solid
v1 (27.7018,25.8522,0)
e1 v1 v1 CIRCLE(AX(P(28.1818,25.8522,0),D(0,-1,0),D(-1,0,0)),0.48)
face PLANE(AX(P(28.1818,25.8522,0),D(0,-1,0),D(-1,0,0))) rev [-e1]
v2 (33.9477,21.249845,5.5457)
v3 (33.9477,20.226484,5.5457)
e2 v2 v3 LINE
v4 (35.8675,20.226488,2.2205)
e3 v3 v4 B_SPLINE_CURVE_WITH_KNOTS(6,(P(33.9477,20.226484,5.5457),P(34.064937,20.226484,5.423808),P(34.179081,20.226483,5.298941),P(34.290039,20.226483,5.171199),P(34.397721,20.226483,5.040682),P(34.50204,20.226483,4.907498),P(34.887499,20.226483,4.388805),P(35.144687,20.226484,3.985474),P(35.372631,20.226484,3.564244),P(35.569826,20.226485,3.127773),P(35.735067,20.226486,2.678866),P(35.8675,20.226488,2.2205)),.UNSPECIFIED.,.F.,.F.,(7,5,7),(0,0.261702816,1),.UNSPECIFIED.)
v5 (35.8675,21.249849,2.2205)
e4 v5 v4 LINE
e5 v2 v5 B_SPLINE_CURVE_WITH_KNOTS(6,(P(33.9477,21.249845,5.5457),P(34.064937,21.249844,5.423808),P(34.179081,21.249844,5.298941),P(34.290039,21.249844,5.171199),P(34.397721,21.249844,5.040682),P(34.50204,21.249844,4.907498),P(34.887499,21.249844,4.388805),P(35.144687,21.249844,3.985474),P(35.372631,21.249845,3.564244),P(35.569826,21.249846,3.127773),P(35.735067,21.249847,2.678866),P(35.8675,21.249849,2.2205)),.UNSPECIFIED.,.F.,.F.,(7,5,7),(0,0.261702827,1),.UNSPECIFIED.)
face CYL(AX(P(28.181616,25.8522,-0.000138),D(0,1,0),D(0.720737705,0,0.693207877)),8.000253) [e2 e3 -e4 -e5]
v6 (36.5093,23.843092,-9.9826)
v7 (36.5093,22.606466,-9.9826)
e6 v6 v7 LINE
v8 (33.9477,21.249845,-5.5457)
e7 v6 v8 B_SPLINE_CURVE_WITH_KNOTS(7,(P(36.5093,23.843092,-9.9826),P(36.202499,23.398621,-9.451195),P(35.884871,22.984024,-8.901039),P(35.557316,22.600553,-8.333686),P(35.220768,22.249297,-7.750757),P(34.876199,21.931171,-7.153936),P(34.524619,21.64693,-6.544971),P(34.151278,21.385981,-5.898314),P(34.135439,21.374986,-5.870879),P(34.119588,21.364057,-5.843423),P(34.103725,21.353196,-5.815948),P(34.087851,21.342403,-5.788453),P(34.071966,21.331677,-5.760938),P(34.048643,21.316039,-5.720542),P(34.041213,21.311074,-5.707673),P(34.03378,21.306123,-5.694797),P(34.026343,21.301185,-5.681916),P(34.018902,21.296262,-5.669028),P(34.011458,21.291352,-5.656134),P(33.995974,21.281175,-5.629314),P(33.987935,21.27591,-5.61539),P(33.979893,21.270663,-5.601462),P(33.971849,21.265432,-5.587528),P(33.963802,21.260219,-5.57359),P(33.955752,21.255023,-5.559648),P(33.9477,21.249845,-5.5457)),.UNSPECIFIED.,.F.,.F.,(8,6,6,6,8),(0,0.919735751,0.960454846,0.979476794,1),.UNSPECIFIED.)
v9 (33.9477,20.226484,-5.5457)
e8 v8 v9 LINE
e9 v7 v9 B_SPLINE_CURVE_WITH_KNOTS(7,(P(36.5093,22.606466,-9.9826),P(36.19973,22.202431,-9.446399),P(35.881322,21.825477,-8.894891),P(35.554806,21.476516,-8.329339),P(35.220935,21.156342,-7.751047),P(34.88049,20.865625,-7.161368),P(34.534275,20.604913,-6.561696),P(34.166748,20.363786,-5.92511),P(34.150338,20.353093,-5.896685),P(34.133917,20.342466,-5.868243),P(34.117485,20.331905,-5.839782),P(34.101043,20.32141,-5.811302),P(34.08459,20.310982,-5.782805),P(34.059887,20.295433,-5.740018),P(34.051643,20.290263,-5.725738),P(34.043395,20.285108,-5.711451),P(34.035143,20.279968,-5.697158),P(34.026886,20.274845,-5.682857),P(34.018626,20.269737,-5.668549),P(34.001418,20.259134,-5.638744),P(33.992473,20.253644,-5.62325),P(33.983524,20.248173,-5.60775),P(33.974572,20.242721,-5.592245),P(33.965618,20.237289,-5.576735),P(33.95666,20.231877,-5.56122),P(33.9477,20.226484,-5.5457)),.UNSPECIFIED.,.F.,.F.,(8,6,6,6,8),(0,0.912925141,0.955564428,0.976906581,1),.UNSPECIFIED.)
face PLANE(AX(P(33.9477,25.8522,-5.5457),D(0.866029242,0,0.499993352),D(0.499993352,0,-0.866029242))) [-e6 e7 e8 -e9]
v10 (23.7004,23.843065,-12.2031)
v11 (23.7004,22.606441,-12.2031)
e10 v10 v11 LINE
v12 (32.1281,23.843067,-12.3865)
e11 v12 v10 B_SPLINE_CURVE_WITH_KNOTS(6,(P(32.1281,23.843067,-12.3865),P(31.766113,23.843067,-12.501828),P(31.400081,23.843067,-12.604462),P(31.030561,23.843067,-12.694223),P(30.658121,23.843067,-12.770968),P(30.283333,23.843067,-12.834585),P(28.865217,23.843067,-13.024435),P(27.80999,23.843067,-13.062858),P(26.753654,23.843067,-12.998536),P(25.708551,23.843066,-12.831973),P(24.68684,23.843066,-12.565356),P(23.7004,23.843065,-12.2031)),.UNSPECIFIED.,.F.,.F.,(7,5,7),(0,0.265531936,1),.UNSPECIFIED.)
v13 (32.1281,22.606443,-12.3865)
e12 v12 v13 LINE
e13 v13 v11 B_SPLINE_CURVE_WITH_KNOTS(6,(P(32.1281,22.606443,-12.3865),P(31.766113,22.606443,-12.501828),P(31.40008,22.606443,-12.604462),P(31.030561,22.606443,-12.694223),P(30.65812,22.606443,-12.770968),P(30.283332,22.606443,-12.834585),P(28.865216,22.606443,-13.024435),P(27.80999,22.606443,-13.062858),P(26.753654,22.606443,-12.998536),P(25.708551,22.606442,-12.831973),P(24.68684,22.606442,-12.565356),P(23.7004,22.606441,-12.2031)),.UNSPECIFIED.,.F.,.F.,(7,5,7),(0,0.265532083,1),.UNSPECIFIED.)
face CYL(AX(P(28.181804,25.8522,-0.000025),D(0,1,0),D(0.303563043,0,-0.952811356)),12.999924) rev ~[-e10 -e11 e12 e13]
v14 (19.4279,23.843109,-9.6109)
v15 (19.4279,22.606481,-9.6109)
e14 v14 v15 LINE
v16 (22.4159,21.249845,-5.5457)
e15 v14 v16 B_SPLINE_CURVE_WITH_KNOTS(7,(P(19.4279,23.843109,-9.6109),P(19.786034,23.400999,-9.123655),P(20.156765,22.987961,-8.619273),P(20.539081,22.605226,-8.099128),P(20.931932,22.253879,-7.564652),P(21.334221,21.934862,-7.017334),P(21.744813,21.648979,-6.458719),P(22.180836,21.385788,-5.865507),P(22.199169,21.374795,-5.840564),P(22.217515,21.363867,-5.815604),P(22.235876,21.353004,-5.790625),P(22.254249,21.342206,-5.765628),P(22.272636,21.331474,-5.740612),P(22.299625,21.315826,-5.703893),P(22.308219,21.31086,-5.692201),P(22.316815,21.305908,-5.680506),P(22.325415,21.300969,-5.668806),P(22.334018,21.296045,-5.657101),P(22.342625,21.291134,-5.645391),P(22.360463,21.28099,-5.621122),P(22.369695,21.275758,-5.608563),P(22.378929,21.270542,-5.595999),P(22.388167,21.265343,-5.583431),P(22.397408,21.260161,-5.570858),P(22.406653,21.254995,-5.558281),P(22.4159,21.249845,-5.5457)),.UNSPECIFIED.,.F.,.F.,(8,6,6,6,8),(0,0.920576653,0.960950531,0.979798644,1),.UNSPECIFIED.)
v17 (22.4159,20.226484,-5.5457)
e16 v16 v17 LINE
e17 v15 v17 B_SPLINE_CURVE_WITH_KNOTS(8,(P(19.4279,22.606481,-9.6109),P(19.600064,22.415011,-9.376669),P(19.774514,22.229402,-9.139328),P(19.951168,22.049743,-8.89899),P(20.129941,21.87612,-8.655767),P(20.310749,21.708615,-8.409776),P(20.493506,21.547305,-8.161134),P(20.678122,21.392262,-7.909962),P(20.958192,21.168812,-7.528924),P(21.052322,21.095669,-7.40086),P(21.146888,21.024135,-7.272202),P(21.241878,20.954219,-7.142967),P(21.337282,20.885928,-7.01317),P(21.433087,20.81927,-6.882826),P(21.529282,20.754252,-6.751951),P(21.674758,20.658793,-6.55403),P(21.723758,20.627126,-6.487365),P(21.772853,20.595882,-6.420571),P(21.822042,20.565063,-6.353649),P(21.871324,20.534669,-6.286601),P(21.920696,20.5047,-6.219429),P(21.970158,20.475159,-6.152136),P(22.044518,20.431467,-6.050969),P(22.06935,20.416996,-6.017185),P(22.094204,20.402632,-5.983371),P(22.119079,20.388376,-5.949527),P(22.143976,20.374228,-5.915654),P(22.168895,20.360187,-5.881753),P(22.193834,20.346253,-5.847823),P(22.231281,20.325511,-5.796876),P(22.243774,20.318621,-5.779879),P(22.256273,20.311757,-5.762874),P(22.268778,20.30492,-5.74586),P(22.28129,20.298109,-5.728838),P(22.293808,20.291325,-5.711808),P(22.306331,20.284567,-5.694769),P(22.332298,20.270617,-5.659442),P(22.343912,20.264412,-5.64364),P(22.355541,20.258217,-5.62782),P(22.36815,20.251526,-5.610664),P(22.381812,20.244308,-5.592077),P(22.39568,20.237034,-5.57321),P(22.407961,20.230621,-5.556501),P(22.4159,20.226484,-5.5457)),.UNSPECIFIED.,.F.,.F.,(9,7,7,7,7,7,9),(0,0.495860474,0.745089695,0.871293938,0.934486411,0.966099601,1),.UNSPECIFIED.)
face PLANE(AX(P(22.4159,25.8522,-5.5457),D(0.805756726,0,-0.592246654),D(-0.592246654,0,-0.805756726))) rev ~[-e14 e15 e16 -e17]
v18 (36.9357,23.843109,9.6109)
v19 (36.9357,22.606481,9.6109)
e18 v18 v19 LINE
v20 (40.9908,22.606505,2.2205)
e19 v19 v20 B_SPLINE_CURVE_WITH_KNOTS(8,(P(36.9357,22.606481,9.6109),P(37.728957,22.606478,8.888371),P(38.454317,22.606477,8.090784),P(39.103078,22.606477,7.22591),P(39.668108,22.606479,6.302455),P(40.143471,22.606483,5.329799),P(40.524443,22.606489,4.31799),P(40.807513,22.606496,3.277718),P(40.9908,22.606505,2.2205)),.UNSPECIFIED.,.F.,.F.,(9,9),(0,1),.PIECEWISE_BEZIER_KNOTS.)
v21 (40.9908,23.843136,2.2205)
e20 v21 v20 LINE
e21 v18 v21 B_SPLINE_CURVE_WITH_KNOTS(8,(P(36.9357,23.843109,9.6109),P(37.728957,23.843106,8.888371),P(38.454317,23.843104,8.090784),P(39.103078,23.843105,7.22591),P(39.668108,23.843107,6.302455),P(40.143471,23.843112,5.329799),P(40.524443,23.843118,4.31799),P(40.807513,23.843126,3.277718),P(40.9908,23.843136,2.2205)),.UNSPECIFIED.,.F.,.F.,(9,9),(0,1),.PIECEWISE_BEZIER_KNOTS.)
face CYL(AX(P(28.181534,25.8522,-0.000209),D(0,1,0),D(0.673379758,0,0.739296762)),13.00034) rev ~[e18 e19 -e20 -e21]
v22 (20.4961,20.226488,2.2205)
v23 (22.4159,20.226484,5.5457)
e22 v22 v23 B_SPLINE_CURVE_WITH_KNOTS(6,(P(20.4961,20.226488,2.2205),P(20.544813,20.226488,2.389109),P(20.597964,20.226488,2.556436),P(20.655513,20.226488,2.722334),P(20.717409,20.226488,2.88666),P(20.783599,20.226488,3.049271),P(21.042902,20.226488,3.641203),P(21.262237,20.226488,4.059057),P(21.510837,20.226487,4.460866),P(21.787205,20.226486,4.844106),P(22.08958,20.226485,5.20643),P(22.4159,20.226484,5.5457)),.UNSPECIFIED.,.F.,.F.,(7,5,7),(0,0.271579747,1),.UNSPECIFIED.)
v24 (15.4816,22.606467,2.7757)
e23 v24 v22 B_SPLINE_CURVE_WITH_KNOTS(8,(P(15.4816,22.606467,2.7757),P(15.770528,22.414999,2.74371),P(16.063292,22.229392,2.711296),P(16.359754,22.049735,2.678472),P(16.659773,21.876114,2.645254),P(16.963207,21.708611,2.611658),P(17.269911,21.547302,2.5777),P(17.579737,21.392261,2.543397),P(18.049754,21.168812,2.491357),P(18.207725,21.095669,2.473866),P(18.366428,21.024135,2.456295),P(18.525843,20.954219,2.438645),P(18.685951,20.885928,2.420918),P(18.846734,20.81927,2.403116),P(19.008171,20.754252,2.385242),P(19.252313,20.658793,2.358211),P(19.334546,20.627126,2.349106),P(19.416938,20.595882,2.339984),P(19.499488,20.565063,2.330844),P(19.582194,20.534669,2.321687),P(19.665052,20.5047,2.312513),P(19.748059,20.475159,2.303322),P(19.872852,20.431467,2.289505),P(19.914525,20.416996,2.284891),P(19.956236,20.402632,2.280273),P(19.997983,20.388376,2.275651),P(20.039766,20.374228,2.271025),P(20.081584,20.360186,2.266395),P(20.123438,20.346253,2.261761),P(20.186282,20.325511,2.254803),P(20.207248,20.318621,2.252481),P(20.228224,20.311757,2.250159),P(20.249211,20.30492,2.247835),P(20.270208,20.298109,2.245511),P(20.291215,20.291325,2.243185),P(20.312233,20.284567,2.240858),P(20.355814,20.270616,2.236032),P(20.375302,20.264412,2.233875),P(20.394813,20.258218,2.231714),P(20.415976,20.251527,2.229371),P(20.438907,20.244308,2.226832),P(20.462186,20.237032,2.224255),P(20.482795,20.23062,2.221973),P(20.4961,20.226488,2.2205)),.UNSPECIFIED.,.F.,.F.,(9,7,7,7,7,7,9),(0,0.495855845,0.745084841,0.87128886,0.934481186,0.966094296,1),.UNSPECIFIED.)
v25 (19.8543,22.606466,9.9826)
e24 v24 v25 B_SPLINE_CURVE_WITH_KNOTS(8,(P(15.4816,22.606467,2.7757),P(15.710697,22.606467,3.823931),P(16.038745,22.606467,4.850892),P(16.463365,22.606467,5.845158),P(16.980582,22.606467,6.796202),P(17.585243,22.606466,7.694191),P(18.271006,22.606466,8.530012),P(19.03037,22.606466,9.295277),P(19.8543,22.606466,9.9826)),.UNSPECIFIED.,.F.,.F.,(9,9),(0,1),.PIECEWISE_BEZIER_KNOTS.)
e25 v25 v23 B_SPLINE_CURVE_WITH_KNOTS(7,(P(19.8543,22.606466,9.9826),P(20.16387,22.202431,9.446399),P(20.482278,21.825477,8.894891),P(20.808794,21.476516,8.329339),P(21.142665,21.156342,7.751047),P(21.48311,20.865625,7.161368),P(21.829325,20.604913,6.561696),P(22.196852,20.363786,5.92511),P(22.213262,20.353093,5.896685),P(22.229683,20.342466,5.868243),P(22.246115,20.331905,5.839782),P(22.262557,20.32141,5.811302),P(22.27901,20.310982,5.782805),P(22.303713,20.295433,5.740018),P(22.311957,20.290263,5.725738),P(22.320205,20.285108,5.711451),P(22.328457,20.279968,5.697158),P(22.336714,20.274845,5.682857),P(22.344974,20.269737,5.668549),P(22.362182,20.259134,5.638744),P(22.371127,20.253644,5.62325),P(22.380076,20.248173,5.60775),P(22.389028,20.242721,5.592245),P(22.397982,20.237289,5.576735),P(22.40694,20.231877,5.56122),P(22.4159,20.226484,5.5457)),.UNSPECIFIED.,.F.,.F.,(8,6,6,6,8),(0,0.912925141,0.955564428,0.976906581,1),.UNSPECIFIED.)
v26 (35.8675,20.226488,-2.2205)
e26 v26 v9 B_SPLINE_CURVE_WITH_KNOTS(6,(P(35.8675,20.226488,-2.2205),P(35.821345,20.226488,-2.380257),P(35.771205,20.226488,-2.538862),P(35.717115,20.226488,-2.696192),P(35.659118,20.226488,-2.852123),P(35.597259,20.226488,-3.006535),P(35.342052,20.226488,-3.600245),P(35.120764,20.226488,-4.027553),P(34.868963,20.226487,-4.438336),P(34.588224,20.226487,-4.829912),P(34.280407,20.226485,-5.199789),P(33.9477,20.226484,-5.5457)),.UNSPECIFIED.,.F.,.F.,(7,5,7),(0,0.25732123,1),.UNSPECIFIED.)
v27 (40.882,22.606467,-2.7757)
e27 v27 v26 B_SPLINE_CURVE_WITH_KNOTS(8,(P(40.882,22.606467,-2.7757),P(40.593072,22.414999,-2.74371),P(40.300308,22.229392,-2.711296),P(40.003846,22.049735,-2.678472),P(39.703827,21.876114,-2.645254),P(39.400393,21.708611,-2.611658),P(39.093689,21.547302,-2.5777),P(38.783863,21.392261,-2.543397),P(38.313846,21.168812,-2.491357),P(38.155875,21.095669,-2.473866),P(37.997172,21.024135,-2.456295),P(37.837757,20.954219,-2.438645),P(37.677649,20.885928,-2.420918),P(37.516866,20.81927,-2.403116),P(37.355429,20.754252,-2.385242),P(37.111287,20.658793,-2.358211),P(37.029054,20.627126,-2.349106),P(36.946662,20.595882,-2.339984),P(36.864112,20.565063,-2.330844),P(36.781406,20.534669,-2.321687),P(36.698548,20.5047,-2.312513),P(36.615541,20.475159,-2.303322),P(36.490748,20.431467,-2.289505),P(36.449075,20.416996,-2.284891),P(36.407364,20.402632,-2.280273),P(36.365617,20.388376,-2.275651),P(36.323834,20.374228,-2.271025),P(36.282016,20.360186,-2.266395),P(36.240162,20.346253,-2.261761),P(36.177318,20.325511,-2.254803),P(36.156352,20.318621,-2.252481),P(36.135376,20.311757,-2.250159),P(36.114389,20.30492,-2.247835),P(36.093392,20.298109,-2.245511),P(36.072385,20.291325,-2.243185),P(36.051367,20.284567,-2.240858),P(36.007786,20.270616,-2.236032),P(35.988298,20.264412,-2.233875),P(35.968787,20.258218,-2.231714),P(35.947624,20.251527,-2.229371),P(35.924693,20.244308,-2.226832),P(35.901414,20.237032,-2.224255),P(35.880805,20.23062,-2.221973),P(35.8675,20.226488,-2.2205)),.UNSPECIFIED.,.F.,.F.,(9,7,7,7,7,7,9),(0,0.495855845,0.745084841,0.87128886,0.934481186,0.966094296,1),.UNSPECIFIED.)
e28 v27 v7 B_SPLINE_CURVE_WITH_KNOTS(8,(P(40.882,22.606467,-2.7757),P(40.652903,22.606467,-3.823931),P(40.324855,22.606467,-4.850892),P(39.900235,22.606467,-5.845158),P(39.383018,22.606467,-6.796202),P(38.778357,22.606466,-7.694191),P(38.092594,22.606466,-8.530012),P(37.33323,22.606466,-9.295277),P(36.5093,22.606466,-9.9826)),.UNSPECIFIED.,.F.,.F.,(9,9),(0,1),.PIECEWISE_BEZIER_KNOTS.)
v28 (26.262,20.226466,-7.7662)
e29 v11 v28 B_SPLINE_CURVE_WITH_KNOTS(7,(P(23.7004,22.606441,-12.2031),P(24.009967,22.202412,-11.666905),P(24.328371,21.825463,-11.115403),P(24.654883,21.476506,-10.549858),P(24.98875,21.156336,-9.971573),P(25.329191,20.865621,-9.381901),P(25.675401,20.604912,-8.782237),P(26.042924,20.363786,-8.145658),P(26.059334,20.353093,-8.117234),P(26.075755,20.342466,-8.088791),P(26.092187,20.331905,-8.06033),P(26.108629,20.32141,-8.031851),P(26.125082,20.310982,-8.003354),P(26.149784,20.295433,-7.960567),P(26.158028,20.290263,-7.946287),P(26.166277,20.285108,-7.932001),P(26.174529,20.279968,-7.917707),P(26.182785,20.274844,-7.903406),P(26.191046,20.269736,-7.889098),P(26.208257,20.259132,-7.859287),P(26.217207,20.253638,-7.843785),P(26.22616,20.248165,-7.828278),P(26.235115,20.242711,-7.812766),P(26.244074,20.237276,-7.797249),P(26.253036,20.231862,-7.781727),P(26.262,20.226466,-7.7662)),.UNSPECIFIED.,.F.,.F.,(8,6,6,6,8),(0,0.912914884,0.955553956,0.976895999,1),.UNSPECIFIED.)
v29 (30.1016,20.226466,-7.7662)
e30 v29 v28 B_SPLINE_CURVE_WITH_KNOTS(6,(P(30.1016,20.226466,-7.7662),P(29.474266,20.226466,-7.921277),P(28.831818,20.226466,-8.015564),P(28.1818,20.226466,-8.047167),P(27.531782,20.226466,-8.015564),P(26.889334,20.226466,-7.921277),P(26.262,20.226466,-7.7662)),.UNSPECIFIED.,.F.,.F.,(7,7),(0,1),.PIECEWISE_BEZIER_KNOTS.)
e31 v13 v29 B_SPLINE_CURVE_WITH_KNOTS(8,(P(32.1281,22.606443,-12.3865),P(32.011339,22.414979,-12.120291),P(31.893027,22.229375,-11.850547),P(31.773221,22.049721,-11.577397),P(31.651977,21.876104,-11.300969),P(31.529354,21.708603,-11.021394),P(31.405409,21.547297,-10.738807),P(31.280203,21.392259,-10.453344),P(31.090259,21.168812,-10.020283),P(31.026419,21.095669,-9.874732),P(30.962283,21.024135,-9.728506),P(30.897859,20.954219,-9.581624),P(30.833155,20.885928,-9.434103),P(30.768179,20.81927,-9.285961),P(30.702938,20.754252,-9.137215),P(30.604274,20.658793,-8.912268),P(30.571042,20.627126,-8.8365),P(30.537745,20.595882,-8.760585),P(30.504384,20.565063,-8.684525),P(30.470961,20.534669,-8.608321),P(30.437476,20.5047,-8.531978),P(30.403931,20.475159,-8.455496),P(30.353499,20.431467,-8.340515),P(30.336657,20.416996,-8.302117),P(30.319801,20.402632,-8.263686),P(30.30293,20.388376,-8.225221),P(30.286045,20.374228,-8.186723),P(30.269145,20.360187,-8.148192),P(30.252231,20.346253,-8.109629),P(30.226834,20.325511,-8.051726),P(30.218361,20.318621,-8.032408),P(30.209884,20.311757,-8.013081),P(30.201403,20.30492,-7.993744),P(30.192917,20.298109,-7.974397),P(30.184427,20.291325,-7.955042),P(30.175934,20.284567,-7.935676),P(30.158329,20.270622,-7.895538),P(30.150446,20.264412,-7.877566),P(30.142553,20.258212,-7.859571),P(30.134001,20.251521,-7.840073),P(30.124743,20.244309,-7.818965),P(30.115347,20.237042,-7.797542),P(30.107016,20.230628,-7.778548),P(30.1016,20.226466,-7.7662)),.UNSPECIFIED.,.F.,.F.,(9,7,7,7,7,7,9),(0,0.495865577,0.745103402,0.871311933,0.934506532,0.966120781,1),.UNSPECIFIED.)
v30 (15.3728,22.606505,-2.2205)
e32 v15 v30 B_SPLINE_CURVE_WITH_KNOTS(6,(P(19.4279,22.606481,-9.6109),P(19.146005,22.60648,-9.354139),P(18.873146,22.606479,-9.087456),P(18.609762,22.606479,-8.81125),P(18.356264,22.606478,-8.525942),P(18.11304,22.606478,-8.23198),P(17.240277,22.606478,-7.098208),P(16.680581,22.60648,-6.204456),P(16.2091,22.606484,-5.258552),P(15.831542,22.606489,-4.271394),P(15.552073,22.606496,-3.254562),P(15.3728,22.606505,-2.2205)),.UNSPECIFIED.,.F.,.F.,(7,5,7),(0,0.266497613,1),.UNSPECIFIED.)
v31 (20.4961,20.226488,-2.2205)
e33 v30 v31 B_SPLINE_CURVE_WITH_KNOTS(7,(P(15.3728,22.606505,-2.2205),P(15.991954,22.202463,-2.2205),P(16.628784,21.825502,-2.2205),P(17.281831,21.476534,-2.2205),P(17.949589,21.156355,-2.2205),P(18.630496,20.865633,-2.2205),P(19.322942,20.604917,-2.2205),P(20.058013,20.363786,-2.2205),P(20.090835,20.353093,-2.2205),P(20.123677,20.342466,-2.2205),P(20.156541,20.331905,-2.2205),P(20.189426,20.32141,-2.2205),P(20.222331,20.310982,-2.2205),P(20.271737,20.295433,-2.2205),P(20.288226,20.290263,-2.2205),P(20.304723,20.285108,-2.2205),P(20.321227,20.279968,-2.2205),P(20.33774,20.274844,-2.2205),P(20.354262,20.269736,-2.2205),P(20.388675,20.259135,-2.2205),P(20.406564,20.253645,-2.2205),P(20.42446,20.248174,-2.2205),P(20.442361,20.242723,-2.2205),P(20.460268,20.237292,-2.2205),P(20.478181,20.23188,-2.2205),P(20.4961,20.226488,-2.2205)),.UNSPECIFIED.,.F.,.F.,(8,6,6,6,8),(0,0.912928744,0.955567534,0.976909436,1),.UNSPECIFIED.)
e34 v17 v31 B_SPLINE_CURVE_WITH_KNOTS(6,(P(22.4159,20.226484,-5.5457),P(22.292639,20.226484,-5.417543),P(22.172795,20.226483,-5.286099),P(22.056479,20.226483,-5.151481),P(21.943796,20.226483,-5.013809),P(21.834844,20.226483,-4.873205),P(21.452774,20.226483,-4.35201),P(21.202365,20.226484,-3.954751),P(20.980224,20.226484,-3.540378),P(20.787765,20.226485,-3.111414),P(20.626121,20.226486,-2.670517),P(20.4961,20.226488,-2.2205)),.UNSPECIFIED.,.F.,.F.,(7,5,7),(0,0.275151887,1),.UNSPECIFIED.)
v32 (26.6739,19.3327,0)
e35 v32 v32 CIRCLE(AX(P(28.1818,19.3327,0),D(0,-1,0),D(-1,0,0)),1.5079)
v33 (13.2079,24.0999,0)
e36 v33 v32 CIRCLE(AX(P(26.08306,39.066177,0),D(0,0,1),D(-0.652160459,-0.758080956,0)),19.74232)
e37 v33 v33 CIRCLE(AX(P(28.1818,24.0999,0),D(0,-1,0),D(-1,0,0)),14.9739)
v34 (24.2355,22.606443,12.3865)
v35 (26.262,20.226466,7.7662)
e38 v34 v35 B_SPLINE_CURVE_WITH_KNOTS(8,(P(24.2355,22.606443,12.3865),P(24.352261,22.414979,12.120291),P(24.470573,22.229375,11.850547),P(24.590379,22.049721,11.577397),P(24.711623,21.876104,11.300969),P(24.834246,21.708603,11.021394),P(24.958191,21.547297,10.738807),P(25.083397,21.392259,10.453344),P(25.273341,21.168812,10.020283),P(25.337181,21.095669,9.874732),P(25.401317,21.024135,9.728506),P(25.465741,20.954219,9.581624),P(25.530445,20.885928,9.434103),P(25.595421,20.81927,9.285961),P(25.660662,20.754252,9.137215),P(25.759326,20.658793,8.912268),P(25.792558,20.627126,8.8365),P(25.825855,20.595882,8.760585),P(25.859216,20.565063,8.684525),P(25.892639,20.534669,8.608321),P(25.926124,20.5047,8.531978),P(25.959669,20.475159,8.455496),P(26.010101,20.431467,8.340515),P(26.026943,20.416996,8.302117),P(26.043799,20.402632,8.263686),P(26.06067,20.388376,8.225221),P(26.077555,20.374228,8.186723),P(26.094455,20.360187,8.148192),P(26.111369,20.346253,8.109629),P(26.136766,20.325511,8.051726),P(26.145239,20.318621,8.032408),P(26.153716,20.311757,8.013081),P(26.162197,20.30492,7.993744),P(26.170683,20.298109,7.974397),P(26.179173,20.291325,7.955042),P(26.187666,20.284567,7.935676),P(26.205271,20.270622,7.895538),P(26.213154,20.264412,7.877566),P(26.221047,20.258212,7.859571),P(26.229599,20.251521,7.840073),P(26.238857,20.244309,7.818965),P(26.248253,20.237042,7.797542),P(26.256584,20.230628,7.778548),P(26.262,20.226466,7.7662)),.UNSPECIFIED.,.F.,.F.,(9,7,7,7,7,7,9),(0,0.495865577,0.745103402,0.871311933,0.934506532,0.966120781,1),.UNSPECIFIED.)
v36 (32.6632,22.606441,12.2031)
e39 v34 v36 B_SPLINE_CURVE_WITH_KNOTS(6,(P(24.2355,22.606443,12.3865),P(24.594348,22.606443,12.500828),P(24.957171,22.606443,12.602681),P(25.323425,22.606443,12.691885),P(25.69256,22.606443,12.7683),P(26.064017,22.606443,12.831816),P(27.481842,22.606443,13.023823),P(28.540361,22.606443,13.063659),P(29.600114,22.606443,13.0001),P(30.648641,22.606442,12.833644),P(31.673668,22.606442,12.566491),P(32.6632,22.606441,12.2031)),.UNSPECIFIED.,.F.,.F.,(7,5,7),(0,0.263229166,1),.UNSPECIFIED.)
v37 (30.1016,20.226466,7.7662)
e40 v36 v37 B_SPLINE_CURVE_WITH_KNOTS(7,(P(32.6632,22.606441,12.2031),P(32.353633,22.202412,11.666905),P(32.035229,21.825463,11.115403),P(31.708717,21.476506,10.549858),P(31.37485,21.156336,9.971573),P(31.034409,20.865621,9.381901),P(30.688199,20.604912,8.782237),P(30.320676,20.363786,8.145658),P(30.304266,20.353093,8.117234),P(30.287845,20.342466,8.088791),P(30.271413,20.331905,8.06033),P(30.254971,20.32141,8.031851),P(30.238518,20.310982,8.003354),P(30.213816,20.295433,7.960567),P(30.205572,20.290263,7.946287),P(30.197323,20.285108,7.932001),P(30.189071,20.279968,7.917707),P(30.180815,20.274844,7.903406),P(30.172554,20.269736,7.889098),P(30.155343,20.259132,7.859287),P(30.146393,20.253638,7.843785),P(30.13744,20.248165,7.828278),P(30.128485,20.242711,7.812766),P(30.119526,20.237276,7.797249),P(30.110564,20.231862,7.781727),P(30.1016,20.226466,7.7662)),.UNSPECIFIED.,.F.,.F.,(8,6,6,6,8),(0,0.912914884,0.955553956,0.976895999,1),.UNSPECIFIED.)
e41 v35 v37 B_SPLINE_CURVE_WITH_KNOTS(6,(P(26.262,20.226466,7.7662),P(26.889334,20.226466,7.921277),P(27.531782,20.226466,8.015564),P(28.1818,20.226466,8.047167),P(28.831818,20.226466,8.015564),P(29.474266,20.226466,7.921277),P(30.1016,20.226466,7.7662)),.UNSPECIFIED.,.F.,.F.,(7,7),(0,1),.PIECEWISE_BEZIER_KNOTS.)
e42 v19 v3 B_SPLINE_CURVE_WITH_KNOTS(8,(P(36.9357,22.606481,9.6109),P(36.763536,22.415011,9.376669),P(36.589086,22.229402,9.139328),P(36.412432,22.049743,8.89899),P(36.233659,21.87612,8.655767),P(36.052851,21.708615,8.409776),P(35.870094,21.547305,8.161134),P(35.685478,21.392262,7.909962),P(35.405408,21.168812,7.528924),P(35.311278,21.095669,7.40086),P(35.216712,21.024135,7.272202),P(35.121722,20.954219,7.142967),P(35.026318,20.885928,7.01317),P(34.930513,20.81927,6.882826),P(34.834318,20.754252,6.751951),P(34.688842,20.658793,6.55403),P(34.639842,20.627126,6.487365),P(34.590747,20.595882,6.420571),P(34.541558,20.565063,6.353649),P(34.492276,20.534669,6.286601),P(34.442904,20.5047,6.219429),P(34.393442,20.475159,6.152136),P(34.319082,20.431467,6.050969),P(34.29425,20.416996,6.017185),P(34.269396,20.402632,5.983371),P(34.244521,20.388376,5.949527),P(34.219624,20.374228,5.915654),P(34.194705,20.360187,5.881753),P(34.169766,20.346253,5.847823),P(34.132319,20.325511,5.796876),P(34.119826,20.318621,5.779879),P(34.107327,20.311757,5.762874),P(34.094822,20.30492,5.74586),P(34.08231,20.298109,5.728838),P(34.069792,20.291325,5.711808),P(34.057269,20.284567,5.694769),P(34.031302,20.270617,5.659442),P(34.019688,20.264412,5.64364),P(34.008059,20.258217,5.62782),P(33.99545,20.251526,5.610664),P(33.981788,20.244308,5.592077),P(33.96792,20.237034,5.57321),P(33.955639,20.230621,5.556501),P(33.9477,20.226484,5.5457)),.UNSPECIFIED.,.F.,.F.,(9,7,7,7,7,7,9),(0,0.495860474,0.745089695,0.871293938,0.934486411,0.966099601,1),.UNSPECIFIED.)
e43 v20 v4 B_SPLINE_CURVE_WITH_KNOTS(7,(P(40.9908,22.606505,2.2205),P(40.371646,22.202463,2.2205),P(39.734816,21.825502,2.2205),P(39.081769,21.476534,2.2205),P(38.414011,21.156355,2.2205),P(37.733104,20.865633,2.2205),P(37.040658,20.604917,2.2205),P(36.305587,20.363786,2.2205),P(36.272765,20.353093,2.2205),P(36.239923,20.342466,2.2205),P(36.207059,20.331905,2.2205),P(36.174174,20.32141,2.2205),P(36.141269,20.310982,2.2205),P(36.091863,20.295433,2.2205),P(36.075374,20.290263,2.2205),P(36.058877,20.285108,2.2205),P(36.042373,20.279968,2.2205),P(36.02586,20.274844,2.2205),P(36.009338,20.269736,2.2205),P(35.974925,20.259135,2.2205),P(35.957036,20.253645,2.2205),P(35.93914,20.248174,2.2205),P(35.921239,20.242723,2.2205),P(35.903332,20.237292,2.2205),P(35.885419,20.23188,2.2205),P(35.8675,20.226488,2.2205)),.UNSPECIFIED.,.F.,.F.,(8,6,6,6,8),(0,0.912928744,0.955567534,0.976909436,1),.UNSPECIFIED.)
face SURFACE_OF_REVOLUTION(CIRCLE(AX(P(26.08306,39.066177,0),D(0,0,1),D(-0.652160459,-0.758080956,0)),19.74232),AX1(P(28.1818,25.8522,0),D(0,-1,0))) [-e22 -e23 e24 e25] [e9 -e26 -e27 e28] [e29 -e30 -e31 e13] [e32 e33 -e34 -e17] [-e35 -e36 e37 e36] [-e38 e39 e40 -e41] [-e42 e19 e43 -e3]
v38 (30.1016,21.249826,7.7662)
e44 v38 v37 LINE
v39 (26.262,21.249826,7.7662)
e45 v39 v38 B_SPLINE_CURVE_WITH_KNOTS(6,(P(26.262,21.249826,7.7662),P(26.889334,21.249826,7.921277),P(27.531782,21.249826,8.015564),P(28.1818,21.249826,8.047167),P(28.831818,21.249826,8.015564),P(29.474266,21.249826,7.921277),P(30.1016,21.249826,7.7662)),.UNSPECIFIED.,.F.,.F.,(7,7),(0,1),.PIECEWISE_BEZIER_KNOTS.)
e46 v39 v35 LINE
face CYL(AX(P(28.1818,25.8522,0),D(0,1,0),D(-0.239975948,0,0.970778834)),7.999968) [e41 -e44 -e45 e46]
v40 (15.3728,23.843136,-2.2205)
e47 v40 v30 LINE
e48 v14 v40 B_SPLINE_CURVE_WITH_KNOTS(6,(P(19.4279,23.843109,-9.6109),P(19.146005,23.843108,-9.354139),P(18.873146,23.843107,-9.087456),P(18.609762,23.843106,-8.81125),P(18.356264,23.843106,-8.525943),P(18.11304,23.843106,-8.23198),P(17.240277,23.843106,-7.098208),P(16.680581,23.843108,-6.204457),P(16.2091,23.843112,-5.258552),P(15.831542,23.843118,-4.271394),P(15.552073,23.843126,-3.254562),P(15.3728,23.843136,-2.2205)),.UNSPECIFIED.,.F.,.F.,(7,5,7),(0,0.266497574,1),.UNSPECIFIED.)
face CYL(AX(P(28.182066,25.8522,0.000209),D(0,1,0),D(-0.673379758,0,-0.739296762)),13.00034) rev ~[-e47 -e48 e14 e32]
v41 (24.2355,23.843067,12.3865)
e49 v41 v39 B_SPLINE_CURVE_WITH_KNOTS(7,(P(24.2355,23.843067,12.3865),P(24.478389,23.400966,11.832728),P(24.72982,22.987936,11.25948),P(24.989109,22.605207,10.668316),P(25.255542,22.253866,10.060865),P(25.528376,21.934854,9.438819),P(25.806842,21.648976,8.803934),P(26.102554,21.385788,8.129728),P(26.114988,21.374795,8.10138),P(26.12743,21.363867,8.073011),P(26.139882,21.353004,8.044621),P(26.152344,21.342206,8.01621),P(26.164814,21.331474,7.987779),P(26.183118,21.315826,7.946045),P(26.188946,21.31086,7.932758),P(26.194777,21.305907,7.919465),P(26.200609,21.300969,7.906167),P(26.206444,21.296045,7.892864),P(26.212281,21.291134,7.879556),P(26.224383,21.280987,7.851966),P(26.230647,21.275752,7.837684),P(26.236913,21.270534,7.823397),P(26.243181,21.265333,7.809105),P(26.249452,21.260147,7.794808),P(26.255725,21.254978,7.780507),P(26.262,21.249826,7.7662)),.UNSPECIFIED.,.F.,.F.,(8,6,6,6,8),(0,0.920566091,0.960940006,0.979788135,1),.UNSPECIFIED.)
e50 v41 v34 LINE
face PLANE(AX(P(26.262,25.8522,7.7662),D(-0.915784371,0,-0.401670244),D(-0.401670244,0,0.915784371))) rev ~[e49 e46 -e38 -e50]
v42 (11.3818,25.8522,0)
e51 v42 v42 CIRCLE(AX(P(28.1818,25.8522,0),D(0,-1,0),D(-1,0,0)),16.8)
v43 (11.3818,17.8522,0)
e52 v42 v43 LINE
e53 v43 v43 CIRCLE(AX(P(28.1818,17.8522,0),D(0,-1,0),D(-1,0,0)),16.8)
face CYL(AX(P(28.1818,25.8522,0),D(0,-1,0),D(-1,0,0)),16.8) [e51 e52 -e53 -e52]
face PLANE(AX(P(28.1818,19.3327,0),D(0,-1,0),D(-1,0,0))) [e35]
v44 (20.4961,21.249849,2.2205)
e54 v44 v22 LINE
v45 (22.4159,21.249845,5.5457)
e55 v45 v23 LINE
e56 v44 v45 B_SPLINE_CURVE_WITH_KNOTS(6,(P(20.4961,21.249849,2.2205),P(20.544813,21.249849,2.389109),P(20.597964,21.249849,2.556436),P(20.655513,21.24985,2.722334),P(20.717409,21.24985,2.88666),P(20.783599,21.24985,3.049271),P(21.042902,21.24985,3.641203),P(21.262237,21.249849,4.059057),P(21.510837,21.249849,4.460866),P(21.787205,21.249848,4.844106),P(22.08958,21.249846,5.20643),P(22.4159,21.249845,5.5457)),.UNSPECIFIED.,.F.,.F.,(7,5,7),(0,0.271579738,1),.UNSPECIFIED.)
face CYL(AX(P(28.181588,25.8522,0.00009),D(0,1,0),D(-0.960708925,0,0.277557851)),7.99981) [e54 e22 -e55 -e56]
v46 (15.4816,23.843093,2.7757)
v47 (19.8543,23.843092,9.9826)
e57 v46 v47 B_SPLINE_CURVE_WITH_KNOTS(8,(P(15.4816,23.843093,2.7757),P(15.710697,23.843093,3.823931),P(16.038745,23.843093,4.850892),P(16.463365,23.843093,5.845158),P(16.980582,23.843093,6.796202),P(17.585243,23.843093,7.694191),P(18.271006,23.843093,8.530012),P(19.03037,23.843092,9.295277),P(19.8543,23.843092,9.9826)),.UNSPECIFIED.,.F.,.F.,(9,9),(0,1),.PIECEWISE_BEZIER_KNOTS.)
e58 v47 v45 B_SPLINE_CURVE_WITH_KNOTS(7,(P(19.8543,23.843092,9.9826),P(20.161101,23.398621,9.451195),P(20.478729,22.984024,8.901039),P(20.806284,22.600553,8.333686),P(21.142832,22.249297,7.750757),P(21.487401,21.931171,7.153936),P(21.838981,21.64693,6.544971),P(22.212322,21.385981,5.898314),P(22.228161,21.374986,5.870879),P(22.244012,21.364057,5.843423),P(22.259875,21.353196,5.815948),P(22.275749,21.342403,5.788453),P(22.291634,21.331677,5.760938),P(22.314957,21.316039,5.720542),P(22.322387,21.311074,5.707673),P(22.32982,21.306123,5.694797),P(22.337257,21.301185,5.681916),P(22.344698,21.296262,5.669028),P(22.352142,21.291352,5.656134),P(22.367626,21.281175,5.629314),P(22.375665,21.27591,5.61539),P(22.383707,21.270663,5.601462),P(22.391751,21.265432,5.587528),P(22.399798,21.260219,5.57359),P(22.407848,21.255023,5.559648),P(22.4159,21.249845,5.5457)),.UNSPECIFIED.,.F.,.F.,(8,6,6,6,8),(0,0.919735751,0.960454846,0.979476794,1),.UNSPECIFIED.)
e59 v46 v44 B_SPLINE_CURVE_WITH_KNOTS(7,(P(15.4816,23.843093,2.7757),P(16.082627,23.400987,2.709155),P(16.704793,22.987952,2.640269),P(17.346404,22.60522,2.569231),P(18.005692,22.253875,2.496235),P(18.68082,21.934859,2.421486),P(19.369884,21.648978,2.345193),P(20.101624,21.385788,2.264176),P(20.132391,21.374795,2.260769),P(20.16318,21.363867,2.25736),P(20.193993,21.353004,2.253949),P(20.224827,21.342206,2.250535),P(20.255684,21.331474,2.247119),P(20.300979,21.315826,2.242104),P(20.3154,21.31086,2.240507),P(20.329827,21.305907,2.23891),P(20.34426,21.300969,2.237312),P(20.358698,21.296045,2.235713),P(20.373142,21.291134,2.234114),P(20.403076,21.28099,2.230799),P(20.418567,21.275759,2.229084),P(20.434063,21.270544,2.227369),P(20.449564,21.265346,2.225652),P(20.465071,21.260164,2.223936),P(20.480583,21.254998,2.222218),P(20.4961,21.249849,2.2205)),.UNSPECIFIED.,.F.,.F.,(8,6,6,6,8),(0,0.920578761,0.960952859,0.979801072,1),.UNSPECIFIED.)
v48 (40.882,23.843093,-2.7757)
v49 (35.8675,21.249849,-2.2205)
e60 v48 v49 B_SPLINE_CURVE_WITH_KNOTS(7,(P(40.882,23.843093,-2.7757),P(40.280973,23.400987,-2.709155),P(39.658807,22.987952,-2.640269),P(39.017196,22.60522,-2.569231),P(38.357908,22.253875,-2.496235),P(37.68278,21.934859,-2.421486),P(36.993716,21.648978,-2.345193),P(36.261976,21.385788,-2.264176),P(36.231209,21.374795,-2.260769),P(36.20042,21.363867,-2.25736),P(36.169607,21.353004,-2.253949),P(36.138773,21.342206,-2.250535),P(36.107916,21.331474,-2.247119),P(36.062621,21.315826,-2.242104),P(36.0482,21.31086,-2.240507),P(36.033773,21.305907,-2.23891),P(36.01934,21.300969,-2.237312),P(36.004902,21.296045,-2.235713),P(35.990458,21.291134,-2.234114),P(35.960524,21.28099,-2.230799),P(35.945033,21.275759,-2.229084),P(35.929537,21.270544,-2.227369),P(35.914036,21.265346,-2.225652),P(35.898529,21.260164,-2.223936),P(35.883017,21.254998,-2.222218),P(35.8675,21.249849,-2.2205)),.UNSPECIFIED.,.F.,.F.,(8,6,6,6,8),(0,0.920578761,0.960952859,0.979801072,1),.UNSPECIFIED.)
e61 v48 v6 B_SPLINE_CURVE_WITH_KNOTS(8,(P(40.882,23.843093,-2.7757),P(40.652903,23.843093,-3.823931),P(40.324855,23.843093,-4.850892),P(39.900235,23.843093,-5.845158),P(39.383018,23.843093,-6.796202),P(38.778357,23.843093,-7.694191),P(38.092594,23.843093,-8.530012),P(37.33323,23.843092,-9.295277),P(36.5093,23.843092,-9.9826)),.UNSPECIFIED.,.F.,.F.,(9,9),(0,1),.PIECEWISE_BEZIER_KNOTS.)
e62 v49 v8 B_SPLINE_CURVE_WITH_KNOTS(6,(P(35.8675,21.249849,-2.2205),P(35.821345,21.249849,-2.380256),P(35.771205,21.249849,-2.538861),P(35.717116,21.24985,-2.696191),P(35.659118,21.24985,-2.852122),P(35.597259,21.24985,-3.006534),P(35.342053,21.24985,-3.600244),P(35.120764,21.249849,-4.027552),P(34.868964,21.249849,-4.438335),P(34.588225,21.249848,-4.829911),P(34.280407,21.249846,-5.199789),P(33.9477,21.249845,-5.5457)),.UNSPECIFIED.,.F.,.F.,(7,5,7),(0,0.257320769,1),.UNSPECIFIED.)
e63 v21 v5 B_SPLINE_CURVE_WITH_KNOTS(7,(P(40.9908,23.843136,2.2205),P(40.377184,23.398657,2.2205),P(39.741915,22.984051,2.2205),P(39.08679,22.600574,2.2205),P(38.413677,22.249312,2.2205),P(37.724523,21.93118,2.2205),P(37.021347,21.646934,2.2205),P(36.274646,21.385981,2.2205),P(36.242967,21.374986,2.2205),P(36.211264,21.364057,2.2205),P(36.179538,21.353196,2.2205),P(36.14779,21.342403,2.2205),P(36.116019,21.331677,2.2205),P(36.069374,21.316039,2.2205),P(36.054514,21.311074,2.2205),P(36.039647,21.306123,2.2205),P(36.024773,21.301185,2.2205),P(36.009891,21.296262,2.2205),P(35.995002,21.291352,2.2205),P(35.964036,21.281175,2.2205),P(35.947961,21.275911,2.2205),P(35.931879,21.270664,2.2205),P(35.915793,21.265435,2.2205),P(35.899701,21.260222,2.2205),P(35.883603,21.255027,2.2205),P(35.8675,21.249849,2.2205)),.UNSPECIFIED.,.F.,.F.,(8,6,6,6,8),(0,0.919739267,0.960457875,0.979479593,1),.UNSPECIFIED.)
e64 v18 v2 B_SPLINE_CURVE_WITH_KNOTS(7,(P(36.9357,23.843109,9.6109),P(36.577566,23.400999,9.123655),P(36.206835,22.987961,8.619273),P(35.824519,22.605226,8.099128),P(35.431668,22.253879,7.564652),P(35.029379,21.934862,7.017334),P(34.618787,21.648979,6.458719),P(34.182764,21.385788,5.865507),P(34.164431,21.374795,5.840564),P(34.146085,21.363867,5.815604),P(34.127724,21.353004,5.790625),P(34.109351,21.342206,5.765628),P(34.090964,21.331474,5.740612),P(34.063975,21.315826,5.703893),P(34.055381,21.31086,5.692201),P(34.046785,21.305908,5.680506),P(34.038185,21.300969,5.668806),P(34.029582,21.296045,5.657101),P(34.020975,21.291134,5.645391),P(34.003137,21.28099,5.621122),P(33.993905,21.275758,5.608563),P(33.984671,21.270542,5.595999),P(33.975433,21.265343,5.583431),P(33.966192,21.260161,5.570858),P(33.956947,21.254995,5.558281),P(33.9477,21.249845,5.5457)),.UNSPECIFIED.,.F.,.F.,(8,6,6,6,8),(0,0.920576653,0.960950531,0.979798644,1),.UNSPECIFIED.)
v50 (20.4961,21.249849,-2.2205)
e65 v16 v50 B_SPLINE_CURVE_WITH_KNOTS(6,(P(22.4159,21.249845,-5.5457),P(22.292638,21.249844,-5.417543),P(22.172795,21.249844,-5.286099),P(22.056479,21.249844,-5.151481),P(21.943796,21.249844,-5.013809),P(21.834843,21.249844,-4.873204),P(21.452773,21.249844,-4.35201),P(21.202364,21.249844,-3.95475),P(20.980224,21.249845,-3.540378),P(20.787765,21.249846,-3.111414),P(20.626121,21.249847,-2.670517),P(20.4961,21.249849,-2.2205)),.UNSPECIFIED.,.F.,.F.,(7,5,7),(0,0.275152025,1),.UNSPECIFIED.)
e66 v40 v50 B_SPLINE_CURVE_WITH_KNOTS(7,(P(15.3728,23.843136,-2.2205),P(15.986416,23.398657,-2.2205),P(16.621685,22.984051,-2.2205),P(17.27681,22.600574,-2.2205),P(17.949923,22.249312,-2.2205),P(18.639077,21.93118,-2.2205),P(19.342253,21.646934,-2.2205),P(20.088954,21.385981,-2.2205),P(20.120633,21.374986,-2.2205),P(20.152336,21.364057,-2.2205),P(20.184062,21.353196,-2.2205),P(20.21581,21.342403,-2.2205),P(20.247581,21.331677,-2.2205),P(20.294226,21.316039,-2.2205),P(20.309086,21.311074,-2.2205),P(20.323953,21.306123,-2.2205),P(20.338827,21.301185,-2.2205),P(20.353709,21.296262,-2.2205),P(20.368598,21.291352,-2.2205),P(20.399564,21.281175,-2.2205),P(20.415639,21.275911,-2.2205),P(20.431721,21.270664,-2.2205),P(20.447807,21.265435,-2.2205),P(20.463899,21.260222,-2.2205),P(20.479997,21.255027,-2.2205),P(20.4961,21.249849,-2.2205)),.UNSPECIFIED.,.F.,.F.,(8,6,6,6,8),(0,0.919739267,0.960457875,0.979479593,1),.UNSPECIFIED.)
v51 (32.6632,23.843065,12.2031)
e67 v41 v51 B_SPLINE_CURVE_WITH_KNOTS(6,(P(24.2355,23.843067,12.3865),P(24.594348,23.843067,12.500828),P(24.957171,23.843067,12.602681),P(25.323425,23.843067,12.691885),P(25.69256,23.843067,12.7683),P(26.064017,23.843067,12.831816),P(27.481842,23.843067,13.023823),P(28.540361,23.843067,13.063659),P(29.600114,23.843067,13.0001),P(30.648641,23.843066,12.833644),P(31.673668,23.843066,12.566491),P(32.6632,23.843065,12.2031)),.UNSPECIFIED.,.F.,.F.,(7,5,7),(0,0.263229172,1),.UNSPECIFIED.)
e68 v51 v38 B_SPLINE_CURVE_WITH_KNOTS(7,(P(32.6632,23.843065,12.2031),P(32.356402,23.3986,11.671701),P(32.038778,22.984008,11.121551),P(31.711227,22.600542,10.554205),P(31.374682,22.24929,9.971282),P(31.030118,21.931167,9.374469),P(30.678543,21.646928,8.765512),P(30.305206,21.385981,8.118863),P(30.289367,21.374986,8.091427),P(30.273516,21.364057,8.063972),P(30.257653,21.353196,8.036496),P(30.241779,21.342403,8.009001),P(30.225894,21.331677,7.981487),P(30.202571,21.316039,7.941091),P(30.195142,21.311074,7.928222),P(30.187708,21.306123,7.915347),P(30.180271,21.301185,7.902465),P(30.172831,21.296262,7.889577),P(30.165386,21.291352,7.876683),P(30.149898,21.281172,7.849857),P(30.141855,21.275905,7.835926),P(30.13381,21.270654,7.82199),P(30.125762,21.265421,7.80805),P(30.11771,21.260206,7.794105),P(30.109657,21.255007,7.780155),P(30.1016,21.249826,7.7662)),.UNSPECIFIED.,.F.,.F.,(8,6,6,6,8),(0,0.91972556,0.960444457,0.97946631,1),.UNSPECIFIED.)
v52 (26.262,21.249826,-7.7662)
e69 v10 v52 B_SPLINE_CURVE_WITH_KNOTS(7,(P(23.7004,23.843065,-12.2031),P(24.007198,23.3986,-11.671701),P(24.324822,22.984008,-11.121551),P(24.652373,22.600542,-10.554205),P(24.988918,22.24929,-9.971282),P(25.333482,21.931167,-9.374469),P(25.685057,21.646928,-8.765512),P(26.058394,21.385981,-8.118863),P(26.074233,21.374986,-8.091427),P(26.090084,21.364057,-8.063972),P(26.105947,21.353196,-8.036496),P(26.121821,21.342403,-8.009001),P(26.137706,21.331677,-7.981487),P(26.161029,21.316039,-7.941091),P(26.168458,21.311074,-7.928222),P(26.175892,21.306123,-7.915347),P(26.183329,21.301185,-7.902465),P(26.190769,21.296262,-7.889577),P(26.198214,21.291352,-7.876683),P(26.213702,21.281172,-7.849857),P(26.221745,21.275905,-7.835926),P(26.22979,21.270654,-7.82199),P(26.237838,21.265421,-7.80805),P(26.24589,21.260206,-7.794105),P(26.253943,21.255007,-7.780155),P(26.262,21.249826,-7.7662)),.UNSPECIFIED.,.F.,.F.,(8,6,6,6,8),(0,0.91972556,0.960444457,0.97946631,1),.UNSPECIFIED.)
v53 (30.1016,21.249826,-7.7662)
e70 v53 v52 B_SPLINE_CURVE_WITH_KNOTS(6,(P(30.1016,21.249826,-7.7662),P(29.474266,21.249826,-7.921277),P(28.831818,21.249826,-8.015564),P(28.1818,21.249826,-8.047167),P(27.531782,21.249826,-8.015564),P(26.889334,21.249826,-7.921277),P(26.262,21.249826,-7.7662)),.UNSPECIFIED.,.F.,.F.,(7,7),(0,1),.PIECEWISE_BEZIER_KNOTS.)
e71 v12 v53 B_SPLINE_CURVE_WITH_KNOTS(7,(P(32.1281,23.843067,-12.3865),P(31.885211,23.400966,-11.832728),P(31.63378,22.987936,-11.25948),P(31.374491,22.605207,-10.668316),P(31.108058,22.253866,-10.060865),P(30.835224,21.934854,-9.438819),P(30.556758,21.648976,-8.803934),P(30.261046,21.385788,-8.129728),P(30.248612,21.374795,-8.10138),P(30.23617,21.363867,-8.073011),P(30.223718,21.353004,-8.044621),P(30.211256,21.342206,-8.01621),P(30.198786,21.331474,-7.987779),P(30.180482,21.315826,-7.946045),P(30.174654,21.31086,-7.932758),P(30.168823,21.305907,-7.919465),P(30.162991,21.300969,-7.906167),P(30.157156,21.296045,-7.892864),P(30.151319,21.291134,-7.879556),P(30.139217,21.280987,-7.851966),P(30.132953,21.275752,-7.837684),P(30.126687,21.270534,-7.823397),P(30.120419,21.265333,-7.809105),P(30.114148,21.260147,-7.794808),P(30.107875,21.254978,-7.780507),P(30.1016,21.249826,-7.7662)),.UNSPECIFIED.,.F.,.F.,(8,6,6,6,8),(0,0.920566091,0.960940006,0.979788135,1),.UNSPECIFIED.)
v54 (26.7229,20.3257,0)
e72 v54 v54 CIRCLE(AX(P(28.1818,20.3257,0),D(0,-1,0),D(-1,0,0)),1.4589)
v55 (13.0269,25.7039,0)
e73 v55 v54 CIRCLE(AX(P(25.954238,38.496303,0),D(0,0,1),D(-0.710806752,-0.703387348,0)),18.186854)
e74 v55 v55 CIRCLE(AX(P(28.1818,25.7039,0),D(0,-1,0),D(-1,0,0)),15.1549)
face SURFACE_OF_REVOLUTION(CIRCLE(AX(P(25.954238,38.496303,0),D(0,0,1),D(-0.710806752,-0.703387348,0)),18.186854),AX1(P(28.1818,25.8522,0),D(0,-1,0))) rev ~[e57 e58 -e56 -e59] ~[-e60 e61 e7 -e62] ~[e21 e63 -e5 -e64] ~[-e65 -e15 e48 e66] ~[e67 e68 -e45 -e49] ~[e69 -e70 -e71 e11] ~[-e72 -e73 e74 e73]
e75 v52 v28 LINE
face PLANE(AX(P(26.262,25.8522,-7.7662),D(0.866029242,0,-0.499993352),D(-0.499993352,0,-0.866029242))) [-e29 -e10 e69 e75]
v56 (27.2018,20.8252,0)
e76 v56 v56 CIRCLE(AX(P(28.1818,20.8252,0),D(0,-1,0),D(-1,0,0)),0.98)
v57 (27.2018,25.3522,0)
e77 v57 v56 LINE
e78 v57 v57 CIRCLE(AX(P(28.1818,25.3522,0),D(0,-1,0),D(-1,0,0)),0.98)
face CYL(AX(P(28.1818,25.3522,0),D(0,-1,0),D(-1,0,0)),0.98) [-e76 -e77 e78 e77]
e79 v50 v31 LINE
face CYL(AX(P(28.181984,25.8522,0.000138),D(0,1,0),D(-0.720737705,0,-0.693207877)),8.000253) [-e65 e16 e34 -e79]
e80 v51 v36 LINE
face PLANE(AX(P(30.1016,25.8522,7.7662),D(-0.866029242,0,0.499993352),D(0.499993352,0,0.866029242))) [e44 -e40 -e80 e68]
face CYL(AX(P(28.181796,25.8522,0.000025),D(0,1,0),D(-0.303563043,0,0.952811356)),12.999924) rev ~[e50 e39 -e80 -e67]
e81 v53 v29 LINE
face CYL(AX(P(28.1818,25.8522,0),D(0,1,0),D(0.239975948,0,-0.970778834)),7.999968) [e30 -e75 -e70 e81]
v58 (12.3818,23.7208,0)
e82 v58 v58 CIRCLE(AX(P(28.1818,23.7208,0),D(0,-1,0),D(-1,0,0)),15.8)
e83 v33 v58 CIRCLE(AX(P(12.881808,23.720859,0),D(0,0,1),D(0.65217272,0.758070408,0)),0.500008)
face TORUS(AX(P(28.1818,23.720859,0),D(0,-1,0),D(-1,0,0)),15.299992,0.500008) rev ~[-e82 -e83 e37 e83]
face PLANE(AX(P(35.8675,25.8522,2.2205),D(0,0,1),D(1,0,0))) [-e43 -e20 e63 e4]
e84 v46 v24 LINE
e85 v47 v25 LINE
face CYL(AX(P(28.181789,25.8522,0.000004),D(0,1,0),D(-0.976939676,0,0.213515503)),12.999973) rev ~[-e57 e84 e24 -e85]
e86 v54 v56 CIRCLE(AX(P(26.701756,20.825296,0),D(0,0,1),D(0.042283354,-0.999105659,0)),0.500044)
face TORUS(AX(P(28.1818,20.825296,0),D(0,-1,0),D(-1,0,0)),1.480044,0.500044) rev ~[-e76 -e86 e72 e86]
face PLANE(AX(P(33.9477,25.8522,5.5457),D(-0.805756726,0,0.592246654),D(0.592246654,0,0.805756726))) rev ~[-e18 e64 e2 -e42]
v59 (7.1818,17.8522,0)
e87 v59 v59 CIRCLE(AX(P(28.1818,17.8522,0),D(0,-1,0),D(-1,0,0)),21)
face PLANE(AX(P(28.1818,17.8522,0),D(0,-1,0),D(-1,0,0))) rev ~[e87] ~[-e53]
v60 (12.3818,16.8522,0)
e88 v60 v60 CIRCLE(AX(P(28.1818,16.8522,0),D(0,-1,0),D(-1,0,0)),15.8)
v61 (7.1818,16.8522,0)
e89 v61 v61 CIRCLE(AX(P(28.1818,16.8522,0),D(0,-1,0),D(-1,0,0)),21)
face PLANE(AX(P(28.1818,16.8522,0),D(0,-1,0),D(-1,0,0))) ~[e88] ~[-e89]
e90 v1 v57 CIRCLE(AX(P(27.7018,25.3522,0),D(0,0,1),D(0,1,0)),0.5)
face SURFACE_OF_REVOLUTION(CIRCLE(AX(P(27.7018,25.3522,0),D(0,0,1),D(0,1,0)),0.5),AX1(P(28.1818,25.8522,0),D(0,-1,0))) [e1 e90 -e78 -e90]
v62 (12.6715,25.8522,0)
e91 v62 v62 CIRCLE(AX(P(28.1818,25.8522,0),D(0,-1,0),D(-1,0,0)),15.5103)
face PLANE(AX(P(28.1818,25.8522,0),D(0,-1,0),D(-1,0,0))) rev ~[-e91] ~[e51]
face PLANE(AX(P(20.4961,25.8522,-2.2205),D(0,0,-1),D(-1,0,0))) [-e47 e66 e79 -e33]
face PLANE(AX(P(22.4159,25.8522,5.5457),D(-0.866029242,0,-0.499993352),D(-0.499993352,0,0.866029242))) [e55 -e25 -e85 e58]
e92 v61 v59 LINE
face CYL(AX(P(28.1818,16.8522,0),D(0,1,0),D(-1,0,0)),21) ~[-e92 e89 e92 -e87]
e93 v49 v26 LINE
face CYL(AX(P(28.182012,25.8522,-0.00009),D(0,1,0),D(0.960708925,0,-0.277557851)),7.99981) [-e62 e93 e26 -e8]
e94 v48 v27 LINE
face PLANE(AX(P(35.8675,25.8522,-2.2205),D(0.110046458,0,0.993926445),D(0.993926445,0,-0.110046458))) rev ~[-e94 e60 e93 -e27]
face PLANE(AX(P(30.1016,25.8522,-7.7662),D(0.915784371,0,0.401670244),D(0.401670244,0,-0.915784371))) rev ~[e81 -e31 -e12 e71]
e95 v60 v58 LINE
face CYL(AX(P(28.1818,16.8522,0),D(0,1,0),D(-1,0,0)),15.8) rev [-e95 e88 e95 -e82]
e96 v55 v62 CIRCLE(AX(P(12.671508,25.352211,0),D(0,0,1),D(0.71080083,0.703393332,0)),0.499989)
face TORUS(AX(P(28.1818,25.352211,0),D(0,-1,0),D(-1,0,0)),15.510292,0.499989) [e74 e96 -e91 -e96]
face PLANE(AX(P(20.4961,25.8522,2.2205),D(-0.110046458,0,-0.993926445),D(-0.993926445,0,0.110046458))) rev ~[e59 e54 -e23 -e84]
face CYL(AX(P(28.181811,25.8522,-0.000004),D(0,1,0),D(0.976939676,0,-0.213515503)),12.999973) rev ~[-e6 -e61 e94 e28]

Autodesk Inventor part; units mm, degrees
ref_plane "YZ Plane" through (0, 0, 0) normal (1, 0, 0) x (0, 1, 0)
ref_plane "XZ Plane" through (0, 0, 0) normal (0, 1, 0) x (-1, 0, 0)
ref_plane "XY Plane" through (0, 0, 0) normal (0, 0, 1) x (1, 0, 0)
sketch "Sketch1" plane through (0, 0, 0) normal (0, 0, 1) x (1, 0, 0)
  line L0 (7.1818, 17.8522) -> (11.3818, 17.8522)
  line L1 (12.3818, 16.8522) -> (7.1818, 16.8522)
  line L2 (7.1818, 16.8522) -> (7.1818, 17.8522)
  line L3 (11.3818, 25.8522) -> (11.3818, 17.8522)
  line L4 (28.1818, 25.8522) -> (28.1818, 19.3327)
  line L5 (26.6739, 19.3327) -> (28.1818, 19.3327)
  line L6 (12.3818, 16.8522) -> (12.3818, 23.7208)
  line L7 (11.3818, 25.8522) -> (12.6715, 25.8522)
  line L8 (28.1818, 25.8522) -> (27.7018, 25.8522)
  line L9 (27.2018, 25.3522) -> (27.2018, 20.8252)
  arc A0 (13.0269, 25.7039) -> (26.7229, 20.3257) centre (25.9545, 38.4967) ccw
  arc A1 (13.2079, 24.0999) -> (26.6739, 19.3327) centre (26.0829, 39.0659) ccw
  arc A2 (27.7018, 25.8522) -> (27.2018, 25.3522) centre (27.7018, 25.3522) ccw
  arc A3 (13.0269, 25.7039) -> (12.6715, 25.8522) centre (12.6715, 25.3522) ccw
  arc A4 (13.2079, 24.0999) -> (12.3818, 23.7208) centre (12.8818, 23.7208) ccw
  arc A5 (26.7229, 20.3257) -> (27.2018, 20.8252) centre (26.7018, 20.8252) ccw
  point P0 (12.3818, 24.8522)
  point P1 (12.8818, 25.8522)
  point P2 (27.2018, 25.8522)
  point P3 (27.2018, 20.3522)
  dimension "d20" = 21
  dimension "d21" = 15.8
  dimension "d22" = 1
  dimension "d40" = 1
  dimension "d47" = 1.5
  dimension "d48" = 0.98
  dimension "d49" = 5.5
  dimension "d50" = 0.5
revolve "Mask_Breath_Bottom" add sketch "Sketch1" angle 360 about axis through (28.1818, 25.8522, 0) along (0, -1, 0)
sketch "Sketch6" plane through (28.1818, 25.8522, 0) normal (0, 1, 0) x (1, 0, 0)
  circle A0 centre (0, 0) radius 0.48 projected
  arc A1 (-3.9463, -12.3865) -> (4.4814, -12.2031) centre (0, 0) ccw
  arc A2 (-1.9198, -7.7662) -> (1.9198, -7.7662) centre (0, 0) ccw
  line L0 (1.9198, -7.7662) -> (4.4814, -12.2031)
  line L1 (1.9198, -7.7662) -> (7.8134, -7.7662) construction
  line L2 (-1.9198, -7.7662) -> (-3.9463, -12.3865)
  arc A3 (-12.7002, -2.7757) -> (-8.3275, -9.9826) centre (0, 0) ccw
  arc A4 (-7.6857, -2.2205) -> (-5.7659, -5.5457) centre (0, 0) ccw
  line L3 (-5.7659, -5.5457) -> (-8.3275, -9.9826)
  line L4 (-5.7659, -5.5457) -> (-2.8191, -10.6497) construction
  line L5 (-7.6857, -2.2205) -> (-12.7002, -2.7757)
  arc A5 (-8.7539, 9.6109) -> (-12.809, 2.2205) centre (0, 0) ccw
  arc A6 (-5.7659, 5.5457) -> (-7.6857, 2.2205) centre (0, 0) ccw
  line L6 (-7.6857, 2.2205) -> (-12.809, 2.2205)
  line L7 (-7.6857, 2.2205) -> (-10.6324, -2.8835) construction
  line L8 (-5.7659, 5.5457) -> (-8.7539, 9.6109)
  arc A7 (3.9463, 12.3865) -> (-4.4814, 12.2031) centre (0, 0) ccw
  arc A8 (1.9198, 7.7662) -> (-1.9198, 7.7662) centre (0, 0) ccw
  line L9 (-1.9198, 7.7662) -> (-4.4814, 12.2031)
  line L10 (-1.9198, 7.7662) -> (-7.8134, 7.7662) construction
  line L11 (1.9198, 7.7662) -> (3.9463, 12.3865)
  arc A9 (12.7002, 2.7757) -> (8.3275, 9.9826) centre (0, 0) ccw
  arc A10 (7.6857, 2.2205) -> (5.7659, 5.5457) centre (0, 0) ccw
  line L12 (5.7659, 5.5457) -> (8.3275, 9.9826)
  line L13 (5.7659, 5.5457) -> (2.8191, 10.6497) construction
  line L14 (7.6857, 2.2205) -> (12.7002, 2.7757)
  arc A11 (8.7539, -9.6109) -> (12.809, -2.2205) centre (0, 0) ccw
  arc A12 (5.7659, -5.5457) -> (7.6857, -2.2205) centre (0, 0) ccw
  line L15 (7.6857, -2.2205) -> (12.809, -2.2205)
  line L16 (7.6857, -2.2205) -> (10.6324, 2.8835) construction
  line L17 (5.7659, -5.5457) -> (8.7539, -9.6109)
  dimension "d51" = 26
  dimension "d52" = 16
  dimension "d53" = 60
  dimension "d56" = 360
extrude "Extrusion2" cut sketch "Sketch6" against normal blind 10 contours L2 A2 L0 A1 | L5 A4 L3 A3 | L8 A6 L6 A5 | L11 A8 L9 A7 | L14 A10 L12 A9 | L17 A12 L15 A11
properties part number "mask_breath_bottom"
